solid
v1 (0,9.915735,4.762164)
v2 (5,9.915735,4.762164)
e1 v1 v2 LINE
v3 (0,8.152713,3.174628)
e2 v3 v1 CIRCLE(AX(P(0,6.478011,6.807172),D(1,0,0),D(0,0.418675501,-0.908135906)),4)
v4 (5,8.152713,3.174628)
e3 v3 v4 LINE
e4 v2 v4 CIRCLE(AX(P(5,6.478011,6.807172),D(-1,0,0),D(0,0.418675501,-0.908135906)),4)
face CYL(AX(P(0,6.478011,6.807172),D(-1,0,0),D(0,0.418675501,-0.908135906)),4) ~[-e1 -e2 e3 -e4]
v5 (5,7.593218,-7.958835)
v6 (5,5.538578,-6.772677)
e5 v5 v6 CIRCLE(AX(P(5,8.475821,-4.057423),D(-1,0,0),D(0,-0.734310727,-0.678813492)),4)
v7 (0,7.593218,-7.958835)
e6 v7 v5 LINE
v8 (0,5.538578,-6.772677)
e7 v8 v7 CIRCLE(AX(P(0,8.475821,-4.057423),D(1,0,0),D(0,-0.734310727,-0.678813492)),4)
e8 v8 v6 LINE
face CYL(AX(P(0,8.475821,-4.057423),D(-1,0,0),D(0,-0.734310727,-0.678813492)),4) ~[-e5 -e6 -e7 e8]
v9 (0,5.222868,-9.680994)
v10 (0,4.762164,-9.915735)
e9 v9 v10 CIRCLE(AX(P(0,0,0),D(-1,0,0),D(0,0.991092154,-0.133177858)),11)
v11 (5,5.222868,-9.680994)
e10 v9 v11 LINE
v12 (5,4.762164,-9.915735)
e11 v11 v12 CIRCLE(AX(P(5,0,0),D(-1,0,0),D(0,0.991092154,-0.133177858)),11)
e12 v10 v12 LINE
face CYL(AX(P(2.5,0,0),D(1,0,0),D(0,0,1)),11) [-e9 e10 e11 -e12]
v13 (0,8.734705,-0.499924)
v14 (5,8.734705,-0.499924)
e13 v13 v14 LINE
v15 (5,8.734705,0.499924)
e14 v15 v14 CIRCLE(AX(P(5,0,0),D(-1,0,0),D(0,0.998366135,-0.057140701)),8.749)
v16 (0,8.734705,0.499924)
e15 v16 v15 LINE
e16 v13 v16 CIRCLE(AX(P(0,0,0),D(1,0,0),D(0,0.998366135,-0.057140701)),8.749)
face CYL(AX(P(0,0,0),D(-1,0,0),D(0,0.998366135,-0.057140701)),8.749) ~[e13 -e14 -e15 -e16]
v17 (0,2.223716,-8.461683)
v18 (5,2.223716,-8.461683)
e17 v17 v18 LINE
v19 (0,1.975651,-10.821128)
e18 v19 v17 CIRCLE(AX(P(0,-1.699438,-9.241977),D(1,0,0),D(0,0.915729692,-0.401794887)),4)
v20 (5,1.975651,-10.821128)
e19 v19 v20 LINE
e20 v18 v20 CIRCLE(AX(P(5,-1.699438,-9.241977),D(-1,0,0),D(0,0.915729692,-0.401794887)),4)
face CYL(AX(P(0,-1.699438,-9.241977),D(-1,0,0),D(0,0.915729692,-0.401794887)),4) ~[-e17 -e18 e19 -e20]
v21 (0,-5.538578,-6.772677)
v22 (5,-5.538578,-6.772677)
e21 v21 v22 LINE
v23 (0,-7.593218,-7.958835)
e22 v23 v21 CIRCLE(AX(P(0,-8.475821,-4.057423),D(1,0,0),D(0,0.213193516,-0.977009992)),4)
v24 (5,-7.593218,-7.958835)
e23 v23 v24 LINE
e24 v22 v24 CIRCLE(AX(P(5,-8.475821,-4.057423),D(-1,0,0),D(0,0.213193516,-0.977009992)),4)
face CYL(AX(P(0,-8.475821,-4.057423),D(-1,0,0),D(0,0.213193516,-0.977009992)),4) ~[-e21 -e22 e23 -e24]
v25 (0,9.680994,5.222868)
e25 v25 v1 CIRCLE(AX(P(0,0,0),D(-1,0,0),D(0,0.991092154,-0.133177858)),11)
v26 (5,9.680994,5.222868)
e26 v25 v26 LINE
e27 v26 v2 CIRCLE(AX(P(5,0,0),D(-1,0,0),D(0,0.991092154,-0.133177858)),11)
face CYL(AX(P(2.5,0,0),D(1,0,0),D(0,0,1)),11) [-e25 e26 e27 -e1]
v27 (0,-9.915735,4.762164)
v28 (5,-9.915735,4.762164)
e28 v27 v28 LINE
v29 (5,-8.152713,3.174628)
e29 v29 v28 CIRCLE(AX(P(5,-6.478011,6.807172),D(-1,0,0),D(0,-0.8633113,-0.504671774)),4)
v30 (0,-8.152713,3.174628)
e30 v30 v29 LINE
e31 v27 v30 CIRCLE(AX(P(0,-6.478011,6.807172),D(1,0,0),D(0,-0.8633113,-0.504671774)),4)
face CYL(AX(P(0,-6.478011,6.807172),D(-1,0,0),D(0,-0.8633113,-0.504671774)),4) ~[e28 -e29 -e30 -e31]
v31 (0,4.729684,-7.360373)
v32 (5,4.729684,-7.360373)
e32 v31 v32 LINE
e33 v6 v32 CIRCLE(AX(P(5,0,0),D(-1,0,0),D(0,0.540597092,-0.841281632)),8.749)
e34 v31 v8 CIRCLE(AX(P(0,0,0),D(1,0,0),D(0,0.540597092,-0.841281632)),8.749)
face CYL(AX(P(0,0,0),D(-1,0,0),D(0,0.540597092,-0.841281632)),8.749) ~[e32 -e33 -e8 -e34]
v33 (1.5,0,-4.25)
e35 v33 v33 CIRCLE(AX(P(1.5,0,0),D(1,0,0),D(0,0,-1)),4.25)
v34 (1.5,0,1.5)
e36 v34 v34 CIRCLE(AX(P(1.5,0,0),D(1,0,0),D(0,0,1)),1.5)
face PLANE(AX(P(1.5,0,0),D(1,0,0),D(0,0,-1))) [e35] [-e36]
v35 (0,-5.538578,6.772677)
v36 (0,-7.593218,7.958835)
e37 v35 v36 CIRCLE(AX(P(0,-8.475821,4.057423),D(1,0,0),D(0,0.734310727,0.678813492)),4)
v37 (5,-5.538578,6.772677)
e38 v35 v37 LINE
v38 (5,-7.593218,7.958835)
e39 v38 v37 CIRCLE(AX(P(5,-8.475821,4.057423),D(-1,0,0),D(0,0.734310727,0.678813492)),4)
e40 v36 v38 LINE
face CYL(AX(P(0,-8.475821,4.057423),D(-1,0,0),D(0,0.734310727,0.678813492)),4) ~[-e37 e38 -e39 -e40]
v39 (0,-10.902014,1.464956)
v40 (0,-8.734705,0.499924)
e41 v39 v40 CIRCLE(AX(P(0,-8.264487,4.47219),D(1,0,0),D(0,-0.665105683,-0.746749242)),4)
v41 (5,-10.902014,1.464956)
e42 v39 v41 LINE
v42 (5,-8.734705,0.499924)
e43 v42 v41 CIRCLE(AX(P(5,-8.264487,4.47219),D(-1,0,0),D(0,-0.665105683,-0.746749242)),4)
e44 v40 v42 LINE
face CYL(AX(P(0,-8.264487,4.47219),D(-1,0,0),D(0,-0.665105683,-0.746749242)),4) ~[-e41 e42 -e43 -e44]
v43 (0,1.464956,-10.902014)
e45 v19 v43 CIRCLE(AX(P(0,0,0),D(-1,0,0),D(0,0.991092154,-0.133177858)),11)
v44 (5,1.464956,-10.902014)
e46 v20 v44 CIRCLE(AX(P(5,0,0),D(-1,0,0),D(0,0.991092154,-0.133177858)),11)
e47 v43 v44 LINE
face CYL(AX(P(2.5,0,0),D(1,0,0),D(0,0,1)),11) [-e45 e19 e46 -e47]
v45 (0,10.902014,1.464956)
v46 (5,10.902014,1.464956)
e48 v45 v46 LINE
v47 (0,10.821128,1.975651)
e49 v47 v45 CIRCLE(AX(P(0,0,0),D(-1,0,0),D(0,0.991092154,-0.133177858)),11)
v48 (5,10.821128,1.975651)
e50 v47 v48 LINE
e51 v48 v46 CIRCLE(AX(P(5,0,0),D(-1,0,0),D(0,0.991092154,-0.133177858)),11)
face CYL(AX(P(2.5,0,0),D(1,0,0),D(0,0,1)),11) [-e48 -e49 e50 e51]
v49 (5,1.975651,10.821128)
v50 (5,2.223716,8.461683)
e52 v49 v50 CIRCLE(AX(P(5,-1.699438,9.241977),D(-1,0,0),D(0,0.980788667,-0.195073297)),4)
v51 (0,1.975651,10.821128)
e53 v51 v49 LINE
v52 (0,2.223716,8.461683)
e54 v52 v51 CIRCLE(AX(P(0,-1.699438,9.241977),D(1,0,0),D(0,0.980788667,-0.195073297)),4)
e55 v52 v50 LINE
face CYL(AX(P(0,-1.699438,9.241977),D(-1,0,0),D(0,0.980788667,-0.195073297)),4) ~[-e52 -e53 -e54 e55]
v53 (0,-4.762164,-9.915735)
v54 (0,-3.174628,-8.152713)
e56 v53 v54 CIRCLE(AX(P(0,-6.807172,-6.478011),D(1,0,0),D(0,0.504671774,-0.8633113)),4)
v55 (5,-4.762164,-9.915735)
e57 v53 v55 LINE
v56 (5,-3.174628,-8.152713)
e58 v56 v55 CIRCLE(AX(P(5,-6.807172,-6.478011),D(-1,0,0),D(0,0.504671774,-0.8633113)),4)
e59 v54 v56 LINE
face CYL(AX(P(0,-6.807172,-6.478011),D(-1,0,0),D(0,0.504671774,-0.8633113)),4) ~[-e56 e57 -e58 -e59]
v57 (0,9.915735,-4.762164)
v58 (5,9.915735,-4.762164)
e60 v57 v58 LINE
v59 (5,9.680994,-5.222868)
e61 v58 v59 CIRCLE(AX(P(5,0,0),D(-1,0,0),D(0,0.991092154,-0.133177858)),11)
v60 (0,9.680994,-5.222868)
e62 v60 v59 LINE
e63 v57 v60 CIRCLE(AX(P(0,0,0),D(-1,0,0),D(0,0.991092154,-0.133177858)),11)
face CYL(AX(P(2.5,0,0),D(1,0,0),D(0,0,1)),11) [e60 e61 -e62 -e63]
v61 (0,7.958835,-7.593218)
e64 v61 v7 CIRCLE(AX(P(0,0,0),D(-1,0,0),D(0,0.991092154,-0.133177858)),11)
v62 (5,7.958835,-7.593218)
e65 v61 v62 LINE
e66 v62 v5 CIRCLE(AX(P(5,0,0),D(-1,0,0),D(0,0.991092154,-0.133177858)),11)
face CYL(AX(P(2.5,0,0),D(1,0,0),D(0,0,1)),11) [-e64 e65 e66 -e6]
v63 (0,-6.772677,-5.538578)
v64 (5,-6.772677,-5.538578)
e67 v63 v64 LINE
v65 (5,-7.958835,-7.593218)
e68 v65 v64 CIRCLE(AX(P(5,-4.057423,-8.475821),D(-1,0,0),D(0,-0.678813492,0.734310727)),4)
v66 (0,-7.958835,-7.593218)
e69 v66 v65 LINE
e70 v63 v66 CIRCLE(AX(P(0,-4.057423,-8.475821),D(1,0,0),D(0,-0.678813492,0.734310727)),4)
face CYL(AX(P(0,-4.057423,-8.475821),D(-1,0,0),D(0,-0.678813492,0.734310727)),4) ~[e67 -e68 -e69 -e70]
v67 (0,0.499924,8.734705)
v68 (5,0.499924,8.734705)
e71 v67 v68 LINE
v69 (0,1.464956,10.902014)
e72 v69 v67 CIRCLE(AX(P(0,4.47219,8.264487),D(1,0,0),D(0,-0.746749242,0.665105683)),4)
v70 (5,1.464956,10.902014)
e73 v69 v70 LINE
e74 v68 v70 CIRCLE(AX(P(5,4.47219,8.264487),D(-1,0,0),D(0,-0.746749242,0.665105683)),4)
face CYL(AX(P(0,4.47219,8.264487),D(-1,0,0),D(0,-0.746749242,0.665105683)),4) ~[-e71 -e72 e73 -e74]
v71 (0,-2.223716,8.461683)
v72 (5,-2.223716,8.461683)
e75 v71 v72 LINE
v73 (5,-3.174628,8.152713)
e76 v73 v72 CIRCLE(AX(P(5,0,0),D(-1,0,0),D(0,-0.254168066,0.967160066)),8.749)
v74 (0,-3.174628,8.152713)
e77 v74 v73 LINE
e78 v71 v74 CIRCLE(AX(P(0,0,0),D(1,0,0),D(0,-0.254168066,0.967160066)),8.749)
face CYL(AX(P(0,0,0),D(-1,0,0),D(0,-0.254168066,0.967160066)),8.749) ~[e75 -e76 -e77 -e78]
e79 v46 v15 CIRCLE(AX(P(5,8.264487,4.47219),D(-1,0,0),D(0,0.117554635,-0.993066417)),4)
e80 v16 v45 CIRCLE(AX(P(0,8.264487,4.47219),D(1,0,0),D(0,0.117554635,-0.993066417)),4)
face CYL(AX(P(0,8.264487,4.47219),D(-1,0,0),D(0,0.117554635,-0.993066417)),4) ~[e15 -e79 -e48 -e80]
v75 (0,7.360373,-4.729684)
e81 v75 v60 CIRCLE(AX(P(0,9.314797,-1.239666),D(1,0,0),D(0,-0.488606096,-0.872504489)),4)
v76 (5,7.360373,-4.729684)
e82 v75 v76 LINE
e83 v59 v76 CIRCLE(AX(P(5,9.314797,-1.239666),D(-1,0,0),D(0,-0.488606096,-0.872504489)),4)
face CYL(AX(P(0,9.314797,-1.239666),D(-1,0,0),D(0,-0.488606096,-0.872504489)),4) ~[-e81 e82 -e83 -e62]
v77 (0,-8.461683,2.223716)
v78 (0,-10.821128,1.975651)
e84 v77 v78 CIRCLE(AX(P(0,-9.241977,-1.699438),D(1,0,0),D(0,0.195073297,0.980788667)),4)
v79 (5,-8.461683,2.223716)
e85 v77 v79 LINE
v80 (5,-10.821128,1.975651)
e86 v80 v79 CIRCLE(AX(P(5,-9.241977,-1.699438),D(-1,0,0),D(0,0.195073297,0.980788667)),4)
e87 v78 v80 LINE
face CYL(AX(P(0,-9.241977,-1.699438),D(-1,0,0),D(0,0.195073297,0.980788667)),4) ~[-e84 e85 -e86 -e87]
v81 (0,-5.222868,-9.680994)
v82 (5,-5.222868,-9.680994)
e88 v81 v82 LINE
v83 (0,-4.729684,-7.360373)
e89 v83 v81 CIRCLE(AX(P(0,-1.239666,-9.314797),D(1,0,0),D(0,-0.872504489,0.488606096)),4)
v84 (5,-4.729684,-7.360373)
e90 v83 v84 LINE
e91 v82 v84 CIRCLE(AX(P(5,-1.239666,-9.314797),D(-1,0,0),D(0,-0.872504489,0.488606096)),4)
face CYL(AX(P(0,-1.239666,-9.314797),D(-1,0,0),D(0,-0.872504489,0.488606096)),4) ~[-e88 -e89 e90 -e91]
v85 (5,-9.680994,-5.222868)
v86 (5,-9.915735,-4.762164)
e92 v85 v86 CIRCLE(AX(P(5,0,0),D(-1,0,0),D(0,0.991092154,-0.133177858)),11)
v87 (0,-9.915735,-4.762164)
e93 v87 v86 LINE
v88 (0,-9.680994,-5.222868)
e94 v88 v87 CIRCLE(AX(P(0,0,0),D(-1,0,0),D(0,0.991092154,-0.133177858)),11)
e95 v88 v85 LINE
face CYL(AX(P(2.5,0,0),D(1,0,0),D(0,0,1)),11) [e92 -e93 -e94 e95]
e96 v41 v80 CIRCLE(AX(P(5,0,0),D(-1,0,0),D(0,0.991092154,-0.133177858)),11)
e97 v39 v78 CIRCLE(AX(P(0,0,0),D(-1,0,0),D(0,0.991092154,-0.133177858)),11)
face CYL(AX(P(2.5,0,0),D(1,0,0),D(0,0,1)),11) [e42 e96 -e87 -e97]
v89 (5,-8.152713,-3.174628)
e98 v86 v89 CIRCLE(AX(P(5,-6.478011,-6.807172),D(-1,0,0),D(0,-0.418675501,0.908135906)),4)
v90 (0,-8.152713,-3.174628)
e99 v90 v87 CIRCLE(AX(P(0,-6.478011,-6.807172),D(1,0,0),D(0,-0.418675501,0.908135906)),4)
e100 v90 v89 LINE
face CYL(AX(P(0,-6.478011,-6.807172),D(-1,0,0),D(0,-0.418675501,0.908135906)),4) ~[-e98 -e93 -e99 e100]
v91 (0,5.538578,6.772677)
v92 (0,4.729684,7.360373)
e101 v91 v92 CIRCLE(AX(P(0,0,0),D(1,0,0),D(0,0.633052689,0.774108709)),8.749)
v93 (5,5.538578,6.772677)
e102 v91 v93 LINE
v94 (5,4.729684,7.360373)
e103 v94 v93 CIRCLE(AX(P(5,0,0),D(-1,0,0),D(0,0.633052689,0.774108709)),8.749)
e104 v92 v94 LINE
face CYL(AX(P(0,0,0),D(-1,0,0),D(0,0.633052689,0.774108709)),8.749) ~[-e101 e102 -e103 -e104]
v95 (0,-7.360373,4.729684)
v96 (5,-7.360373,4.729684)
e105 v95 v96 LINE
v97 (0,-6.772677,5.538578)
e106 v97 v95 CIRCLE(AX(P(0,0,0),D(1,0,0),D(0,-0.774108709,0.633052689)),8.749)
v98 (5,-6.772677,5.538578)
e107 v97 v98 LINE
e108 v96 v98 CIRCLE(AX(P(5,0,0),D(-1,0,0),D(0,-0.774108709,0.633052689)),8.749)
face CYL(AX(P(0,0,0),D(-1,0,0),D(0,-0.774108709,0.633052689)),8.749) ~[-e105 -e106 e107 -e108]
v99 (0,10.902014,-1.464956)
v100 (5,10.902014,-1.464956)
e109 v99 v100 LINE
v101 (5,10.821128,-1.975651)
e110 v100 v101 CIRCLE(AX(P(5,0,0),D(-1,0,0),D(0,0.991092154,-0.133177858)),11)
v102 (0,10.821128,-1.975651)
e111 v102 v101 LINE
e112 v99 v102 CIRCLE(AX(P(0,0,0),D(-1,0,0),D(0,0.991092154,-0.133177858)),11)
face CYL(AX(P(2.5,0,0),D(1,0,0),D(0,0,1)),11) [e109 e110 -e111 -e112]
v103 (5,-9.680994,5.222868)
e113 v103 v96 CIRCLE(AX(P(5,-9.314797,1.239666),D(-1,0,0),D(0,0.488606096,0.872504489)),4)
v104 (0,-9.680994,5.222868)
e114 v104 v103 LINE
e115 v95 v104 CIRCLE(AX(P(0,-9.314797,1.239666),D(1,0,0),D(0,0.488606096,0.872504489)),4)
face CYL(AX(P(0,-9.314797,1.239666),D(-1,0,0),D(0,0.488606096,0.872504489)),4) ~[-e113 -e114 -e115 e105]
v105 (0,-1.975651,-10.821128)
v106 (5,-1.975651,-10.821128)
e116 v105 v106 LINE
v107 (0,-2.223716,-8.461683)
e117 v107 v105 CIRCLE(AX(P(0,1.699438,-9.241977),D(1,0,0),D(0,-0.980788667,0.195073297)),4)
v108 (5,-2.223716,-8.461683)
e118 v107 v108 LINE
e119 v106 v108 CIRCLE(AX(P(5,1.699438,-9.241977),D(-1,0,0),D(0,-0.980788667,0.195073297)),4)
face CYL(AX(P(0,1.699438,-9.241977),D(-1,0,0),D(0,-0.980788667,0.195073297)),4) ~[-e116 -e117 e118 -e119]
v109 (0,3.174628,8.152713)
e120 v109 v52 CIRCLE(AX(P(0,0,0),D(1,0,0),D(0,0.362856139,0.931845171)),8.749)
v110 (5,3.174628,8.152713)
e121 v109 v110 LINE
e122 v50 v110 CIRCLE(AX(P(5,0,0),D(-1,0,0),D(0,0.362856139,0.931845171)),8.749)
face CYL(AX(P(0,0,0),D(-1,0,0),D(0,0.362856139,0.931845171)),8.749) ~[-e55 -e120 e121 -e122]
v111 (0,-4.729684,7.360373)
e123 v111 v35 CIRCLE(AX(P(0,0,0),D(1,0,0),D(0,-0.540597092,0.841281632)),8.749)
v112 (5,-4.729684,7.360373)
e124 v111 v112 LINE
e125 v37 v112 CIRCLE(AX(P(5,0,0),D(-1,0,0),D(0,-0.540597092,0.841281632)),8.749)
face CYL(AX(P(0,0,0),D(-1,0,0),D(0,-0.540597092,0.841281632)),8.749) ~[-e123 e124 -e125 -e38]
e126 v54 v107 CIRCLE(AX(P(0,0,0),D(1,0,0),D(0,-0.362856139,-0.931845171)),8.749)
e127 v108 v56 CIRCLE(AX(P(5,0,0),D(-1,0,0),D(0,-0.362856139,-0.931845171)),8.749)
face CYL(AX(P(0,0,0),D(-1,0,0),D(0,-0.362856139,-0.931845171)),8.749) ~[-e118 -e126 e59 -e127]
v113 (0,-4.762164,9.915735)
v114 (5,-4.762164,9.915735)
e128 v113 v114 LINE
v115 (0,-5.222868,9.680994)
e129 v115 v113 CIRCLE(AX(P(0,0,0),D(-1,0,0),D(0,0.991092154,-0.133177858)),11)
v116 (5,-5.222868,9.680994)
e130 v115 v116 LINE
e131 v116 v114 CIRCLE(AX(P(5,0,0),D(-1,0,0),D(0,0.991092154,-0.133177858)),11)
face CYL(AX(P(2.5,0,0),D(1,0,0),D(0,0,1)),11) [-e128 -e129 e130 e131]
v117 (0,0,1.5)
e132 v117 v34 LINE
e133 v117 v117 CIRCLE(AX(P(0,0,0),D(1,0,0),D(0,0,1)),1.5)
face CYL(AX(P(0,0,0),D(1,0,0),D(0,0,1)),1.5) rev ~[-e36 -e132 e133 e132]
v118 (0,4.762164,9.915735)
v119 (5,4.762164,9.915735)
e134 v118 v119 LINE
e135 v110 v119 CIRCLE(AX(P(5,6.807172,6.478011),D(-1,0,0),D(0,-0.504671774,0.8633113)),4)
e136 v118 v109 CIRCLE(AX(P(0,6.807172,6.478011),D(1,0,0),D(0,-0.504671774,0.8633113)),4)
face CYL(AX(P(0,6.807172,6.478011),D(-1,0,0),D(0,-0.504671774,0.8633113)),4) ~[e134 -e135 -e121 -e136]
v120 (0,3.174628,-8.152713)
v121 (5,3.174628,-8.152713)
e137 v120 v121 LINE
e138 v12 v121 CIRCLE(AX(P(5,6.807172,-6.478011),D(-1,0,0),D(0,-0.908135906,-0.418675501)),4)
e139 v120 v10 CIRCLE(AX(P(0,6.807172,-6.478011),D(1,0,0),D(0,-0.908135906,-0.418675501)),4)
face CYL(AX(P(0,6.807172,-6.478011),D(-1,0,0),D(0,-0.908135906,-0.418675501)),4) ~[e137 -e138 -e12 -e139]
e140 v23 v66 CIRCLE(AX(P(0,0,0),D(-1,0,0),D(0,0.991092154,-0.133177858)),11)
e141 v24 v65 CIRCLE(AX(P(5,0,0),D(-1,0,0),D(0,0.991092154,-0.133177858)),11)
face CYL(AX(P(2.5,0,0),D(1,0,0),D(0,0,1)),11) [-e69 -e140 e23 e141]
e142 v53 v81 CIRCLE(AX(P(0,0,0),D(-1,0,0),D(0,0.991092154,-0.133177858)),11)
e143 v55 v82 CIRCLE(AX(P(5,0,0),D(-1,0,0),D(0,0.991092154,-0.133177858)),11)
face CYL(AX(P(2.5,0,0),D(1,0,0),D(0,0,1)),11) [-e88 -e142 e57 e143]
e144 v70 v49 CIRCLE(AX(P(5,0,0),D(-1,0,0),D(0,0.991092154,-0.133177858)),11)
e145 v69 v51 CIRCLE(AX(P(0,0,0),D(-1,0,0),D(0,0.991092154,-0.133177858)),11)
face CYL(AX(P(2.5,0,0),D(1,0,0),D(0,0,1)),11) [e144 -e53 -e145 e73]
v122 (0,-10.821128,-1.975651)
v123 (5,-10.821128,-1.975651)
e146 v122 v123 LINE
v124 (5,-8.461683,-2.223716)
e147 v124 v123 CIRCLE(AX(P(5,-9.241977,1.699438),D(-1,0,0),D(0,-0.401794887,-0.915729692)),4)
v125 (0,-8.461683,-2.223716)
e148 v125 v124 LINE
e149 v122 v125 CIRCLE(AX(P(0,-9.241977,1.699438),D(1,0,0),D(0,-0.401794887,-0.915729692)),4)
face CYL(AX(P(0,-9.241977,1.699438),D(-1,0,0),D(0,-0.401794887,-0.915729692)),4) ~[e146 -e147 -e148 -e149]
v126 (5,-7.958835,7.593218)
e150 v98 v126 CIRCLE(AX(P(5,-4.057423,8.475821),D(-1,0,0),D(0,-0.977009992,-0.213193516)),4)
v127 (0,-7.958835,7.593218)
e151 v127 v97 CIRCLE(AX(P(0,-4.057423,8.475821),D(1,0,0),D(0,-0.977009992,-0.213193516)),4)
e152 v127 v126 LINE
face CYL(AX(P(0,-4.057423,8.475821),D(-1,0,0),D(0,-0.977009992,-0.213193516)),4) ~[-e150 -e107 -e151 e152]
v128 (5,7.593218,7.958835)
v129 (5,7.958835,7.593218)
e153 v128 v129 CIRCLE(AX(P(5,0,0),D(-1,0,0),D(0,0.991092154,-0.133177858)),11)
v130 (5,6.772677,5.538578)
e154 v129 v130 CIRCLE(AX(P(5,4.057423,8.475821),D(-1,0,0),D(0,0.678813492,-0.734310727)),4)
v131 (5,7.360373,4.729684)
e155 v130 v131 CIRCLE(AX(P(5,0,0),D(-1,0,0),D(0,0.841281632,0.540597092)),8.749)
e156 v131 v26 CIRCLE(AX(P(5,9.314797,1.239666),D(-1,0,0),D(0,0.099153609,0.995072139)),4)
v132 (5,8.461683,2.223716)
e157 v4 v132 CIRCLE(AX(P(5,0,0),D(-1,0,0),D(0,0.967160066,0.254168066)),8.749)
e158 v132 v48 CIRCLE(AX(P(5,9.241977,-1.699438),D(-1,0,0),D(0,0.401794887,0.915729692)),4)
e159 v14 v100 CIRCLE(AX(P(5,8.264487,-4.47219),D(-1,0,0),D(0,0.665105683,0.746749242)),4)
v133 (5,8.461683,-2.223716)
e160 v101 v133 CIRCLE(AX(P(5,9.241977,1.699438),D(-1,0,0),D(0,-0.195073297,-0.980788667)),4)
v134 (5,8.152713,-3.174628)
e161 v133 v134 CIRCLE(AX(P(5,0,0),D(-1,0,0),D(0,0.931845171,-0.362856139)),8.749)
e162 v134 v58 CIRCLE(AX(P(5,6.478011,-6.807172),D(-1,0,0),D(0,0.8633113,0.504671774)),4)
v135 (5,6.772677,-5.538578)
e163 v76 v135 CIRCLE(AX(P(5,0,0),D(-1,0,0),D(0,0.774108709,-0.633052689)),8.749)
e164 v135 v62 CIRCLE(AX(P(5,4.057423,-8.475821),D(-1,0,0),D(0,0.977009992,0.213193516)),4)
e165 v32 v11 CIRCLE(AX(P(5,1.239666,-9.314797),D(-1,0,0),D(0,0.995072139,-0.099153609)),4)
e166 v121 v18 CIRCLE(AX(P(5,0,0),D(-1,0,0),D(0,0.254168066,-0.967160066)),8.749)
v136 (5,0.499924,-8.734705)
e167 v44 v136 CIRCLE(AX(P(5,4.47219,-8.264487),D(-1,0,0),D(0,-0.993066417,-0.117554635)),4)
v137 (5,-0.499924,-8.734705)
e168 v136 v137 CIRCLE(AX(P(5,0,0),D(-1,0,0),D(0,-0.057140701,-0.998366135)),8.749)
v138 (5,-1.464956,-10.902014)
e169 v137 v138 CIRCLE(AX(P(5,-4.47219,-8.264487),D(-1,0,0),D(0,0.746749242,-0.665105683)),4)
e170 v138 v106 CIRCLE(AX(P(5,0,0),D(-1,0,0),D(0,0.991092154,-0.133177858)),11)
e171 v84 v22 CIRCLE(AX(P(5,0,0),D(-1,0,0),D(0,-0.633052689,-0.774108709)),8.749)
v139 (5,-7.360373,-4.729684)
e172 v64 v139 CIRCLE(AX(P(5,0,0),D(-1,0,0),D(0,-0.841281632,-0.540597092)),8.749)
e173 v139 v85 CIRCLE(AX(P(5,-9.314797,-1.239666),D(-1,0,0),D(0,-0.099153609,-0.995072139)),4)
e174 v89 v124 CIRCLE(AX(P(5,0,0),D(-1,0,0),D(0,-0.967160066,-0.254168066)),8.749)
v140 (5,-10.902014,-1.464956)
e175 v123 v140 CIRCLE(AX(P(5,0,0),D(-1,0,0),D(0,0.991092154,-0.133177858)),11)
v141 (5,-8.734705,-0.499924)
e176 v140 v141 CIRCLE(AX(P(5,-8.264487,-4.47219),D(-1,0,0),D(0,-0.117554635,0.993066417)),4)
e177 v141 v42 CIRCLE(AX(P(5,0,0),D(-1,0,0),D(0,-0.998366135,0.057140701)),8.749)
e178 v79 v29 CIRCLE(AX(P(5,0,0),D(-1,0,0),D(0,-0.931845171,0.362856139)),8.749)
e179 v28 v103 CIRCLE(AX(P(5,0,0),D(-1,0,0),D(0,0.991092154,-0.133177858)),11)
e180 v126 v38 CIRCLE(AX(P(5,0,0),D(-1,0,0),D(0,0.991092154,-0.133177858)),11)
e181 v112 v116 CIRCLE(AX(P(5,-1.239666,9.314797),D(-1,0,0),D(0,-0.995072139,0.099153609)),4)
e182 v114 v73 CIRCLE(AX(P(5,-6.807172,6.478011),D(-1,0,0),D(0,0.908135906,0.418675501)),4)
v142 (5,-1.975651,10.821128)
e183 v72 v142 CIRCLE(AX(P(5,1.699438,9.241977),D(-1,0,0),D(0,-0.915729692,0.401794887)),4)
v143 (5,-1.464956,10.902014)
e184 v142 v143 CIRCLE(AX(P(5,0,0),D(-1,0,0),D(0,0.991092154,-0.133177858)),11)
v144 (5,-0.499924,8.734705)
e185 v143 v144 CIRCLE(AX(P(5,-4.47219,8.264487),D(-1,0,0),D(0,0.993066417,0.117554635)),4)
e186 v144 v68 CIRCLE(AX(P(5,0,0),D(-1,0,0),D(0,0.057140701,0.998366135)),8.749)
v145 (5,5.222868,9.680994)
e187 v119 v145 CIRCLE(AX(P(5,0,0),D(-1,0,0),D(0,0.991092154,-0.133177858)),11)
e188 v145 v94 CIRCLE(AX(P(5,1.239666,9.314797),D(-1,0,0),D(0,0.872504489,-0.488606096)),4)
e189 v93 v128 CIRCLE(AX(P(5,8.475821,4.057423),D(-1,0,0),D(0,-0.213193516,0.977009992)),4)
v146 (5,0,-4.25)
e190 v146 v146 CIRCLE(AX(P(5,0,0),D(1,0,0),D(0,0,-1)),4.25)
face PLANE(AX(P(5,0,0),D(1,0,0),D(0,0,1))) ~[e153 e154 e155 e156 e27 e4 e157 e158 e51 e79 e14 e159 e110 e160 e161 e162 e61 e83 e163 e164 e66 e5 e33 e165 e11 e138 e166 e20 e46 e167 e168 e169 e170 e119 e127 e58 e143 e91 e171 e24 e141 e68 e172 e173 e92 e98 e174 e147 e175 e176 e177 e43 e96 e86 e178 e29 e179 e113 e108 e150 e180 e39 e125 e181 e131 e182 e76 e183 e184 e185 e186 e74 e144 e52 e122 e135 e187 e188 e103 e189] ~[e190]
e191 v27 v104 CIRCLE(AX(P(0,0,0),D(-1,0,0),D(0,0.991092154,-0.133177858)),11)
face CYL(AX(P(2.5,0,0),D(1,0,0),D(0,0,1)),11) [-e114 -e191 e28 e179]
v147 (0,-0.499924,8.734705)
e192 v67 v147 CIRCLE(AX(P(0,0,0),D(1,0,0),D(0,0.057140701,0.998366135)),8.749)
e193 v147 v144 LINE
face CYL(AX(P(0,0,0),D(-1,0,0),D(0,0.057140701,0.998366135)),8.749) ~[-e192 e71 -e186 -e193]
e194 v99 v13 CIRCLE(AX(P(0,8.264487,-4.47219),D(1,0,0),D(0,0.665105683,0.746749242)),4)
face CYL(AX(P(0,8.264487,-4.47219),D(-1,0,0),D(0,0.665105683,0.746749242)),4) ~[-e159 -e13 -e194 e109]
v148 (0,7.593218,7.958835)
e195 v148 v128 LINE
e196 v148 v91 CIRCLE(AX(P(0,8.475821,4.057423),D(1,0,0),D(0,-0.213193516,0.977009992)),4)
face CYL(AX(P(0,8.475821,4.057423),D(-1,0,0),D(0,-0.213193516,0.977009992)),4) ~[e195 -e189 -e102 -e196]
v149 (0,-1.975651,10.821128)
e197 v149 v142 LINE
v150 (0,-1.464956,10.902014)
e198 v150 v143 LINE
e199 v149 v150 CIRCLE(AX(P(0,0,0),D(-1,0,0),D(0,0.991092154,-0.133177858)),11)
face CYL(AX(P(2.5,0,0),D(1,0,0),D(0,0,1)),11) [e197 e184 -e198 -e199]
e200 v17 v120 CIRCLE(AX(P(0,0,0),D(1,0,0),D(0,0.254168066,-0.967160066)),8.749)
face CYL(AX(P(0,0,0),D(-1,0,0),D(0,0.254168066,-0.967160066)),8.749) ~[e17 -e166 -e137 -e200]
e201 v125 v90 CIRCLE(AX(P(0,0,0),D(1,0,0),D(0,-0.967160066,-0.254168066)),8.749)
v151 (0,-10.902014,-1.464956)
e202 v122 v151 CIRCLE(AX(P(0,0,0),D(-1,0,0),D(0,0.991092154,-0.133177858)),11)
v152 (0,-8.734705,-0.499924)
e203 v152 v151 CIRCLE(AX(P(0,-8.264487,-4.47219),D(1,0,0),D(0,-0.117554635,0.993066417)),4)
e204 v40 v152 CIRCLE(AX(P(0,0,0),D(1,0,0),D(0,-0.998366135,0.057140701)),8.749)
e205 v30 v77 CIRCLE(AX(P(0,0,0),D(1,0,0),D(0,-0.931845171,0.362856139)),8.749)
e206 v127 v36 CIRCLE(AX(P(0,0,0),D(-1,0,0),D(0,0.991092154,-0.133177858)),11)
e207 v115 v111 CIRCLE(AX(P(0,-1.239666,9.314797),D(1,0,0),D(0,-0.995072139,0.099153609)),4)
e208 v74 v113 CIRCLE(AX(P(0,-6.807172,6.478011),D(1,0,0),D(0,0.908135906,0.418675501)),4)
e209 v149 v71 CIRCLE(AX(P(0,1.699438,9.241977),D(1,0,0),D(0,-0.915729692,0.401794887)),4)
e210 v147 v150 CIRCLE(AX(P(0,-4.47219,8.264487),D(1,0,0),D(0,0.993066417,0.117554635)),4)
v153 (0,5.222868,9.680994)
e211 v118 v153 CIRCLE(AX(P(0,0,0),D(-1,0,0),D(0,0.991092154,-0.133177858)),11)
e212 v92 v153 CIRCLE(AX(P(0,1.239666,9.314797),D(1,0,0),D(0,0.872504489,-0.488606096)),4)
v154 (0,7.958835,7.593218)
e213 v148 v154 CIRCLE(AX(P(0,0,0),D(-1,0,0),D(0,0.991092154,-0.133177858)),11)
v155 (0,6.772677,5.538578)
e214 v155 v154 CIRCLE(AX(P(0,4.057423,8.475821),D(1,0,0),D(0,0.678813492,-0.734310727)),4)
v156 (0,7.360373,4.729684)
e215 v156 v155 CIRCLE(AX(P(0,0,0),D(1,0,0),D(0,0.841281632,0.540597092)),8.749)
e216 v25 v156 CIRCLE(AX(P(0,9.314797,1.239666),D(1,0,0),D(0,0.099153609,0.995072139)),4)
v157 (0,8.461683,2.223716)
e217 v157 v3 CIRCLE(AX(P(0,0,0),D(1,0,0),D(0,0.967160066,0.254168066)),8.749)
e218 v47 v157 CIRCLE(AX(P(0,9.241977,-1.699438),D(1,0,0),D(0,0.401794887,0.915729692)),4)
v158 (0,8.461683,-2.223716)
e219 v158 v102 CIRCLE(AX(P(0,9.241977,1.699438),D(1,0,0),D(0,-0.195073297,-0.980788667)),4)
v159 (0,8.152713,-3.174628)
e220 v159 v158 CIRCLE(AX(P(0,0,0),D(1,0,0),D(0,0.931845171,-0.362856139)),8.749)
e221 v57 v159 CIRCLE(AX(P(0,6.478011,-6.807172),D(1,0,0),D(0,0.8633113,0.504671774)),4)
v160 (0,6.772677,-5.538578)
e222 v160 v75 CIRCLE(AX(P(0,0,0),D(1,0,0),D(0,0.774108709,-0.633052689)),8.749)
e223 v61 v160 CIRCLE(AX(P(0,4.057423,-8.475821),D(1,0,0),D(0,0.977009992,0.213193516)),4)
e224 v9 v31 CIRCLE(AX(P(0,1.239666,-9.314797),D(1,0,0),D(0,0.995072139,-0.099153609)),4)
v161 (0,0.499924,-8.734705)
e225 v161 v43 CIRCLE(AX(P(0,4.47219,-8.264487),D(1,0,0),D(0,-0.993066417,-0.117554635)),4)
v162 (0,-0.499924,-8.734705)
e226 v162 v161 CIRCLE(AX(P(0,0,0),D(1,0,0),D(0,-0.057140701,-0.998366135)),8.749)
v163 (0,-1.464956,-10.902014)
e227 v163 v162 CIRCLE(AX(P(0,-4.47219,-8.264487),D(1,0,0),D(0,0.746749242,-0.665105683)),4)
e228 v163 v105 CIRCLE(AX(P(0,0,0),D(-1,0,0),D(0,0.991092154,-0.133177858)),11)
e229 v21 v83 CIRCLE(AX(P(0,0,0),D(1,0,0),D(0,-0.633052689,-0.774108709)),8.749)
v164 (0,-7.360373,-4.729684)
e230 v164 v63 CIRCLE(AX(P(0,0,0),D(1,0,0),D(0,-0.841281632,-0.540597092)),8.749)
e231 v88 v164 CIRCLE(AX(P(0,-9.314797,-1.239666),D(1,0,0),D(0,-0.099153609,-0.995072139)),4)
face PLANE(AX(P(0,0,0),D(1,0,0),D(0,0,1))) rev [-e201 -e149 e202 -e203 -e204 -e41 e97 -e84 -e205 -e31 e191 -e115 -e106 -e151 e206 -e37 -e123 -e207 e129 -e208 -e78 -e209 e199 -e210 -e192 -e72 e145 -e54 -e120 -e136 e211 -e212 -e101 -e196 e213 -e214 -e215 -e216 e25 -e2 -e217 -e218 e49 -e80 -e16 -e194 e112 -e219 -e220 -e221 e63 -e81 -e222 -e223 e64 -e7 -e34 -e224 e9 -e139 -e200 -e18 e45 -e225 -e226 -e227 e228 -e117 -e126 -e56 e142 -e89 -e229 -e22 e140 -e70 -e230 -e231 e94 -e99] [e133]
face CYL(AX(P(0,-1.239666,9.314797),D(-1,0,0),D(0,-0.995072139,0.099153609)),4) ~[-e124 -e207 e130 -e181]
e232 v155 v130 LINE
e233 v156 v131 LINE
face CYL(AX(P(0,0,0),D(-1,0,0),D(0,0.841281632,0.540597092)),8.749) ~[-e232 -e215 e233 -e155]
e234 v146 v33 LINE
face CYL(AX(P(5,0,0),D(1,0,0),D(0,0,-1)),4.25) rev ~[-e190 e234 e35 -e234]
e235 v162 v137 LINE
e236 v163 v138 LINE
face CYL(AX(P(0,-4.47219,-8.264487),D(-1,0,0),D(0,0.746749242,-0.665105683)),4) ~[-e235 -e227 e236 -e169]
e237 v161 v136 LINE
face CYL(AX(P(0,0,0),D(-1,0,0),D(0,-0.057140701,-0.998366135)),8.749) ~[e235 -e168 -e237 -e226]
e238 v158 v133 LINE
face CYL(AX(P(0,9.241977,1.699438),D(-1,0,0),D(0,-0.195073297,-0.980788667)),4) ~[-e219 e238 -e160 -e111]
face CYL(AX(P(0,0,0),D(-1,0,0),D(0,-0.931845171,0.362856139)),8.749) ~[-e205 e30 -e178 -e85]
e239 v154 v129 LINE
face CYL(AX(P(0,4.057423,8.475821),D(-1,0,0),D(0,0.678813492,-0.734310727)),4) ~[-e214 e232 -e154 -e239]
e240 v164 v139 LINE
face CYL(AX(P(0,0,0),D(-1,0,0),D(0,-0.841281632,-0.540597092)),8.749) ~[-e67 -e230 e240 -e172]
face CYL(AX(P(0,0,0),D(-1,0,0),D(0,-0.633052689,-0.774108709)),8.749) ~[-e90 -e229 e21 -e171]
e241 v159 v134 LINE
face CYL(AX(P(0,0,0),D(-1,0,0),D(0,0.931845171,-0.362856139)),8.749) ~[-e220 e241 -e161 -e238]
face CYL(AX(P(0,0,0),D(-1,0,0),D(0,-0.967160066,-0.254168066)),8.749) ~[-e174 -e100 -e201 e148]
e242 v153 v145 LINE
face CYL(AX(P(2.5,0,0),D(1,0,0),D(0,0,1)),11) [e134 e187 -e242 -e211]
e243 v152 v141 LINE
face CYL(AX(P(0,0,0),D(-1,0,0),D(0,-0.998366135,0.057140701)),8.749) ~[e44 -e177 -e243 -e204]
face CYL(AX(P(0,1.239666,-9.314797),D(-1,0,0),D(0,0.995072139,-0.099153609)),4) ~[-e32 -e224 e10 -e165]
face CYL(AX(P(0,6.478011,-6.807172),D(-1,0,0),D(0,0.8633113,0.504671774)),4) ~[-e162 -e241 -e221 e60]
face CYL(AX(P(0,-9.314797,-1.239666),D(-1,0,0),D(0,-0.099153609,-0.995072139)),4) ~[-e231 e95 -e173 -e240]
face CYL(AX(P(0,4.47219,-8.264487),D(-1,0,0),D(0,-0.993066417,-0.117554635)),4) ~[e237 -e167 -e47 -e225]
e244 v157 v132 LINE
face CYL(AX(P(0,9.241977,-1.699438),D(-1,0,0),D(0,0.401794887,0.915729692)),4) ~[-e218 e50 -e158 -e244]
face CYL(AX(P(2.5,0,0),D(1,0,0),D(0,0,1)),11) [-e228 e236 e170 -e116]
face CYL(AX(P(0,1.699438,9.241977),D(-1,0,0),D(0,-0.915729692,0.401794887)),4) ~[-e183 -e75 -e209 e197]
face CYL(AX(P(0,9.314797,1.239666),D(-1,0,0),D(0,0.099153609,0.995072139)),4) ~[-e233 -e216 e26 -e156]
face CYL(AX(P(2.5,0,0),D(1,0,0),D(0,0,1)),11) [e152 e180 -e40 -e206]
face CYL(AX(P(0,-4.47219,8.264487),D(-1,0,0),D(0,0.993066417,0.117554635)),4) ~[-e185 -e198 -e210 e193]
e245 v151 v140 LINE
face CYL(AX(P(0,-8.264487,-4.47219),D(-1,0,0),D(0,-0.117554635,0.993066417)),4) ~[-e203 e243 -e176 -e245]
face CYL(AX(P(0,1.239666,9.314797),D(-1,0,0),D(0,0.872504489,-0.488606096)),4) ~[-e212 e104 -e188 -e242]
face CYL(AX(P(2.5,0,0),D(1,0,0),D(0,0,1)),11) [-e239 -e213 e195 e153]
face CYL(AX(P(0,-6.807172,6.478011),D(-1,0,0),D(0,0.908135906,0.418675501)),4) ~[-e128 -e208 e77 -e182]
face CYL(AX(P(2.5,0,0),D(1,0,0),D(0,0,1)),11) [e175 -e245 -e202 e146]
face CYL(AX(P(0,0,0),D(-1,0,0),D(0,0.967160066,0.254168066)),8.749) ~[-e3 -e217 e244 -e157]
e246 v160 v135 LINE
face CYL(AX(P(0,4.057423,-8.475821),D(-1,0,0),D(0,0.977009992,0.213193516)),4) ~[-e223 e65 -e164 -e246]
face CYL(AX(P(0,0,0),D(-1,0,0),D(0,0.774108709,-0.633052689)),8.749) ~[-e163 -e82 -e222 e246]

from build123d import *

# Parameters (mm, degrees)
BASPROSKE_W        = 5
BASPROSKE_H        = 11
TOOTHCUT_DEPTH     = 17.340134638
TEETHCUTS_COUNT    = 20
TEETHCUTS_ANGLE    = 342
BORSKE_R           = 1.5
BORE_DEPTH         = 50.0000508
SKETCH1_R          = 4.25
CUT_EXTRUDE1_DEPTH = 3.5


with BuildPart() as part:
    # BasProSke → Base-Revolve (revolve)
    with BuildSketch(Plane(origin=(0, 0, 0), x_dir=(1, 0, 0), z_dir=(0, 1, 0)), mode=Mode.PRIVATE) as base_revolve_sk:
        with Locations((2.5, 5.5)):
            Rectangle(BASPROSKE_W, BASPROSKE_H)
    revolve(base_revolve_sk.sketch.rotate(Axis((-10, 0, 0), (1, 0, 0)), 180), axis=Axis((-10, 0, 0), (1, 0, 0)))

    # TooCutSke → ToothCut (cut, through all)
    with BuildSketch(Plane(origin=(0, 0, 0), x_dir=(0, 0, -1), z_dir=(1, 0, 0))):
        with BuildLine():
            ThreePointArc((0.499924007, 8.734705318), (0, 8.749), (-0.499924007, 8.734705318))
            ThreePointArc((-0.499924007, 8.734705318), (-0.824302243, 9.905497836), (-1.485192705, 10.924909509))
            ThreePointArc((-1.485192705, 10.924909509), (0, 11.0254), (1.485192705, 10.924909509))
            ThreePointArc((1.485192705, 10.924909509), (0.824302243, 9.905497836), (0.499924007, 8.734705318))
        make_face()
    toothcut = extrude(amount=TOOTHCUT_DEPTH, mode=Mode.SUBTRACT)

    # TeethCuts: ToothCut ×20 about axis
    teethcuts_axis = Axis((-10, 0, 0), (1, 0, 0))
    for i in range(1, TEETHCUTS_COUNT):
        add(toothcut.rotate(teethcuts_axis, i * TEETHCUTS_ANGLE / (TEETHCUTS_COUNT - 1)), mode=Mode.SUBTRACT)

    # BorSke → Bore (cut, symmetric)
    with BuildSketch(Plane(origin=(0, 0, 0), x_dir=(0, 0, -1), z_dir=(1, 0, 0))):
        with Locations(Location((0, 0, 0), (0, 0, 180))):
            Circle(BORSKE_R)
    extrude(amount=BORE_DEPTH, both=True, mode=Mode.SUBTRACT)

    # Sketch1 → Cut-Extrude1 (cut)
    with BuildSketch(Plane(origin=(5, 0, 0), x_dir=(0, 0, -1), z_dir=(1, 0, 0))):
        Circle(SKETCH1_R)
    extrude(amount=-CUT_EXTRUDE1_DEPTH, mode=Mode.SUBTRACT)


solid = part.part
